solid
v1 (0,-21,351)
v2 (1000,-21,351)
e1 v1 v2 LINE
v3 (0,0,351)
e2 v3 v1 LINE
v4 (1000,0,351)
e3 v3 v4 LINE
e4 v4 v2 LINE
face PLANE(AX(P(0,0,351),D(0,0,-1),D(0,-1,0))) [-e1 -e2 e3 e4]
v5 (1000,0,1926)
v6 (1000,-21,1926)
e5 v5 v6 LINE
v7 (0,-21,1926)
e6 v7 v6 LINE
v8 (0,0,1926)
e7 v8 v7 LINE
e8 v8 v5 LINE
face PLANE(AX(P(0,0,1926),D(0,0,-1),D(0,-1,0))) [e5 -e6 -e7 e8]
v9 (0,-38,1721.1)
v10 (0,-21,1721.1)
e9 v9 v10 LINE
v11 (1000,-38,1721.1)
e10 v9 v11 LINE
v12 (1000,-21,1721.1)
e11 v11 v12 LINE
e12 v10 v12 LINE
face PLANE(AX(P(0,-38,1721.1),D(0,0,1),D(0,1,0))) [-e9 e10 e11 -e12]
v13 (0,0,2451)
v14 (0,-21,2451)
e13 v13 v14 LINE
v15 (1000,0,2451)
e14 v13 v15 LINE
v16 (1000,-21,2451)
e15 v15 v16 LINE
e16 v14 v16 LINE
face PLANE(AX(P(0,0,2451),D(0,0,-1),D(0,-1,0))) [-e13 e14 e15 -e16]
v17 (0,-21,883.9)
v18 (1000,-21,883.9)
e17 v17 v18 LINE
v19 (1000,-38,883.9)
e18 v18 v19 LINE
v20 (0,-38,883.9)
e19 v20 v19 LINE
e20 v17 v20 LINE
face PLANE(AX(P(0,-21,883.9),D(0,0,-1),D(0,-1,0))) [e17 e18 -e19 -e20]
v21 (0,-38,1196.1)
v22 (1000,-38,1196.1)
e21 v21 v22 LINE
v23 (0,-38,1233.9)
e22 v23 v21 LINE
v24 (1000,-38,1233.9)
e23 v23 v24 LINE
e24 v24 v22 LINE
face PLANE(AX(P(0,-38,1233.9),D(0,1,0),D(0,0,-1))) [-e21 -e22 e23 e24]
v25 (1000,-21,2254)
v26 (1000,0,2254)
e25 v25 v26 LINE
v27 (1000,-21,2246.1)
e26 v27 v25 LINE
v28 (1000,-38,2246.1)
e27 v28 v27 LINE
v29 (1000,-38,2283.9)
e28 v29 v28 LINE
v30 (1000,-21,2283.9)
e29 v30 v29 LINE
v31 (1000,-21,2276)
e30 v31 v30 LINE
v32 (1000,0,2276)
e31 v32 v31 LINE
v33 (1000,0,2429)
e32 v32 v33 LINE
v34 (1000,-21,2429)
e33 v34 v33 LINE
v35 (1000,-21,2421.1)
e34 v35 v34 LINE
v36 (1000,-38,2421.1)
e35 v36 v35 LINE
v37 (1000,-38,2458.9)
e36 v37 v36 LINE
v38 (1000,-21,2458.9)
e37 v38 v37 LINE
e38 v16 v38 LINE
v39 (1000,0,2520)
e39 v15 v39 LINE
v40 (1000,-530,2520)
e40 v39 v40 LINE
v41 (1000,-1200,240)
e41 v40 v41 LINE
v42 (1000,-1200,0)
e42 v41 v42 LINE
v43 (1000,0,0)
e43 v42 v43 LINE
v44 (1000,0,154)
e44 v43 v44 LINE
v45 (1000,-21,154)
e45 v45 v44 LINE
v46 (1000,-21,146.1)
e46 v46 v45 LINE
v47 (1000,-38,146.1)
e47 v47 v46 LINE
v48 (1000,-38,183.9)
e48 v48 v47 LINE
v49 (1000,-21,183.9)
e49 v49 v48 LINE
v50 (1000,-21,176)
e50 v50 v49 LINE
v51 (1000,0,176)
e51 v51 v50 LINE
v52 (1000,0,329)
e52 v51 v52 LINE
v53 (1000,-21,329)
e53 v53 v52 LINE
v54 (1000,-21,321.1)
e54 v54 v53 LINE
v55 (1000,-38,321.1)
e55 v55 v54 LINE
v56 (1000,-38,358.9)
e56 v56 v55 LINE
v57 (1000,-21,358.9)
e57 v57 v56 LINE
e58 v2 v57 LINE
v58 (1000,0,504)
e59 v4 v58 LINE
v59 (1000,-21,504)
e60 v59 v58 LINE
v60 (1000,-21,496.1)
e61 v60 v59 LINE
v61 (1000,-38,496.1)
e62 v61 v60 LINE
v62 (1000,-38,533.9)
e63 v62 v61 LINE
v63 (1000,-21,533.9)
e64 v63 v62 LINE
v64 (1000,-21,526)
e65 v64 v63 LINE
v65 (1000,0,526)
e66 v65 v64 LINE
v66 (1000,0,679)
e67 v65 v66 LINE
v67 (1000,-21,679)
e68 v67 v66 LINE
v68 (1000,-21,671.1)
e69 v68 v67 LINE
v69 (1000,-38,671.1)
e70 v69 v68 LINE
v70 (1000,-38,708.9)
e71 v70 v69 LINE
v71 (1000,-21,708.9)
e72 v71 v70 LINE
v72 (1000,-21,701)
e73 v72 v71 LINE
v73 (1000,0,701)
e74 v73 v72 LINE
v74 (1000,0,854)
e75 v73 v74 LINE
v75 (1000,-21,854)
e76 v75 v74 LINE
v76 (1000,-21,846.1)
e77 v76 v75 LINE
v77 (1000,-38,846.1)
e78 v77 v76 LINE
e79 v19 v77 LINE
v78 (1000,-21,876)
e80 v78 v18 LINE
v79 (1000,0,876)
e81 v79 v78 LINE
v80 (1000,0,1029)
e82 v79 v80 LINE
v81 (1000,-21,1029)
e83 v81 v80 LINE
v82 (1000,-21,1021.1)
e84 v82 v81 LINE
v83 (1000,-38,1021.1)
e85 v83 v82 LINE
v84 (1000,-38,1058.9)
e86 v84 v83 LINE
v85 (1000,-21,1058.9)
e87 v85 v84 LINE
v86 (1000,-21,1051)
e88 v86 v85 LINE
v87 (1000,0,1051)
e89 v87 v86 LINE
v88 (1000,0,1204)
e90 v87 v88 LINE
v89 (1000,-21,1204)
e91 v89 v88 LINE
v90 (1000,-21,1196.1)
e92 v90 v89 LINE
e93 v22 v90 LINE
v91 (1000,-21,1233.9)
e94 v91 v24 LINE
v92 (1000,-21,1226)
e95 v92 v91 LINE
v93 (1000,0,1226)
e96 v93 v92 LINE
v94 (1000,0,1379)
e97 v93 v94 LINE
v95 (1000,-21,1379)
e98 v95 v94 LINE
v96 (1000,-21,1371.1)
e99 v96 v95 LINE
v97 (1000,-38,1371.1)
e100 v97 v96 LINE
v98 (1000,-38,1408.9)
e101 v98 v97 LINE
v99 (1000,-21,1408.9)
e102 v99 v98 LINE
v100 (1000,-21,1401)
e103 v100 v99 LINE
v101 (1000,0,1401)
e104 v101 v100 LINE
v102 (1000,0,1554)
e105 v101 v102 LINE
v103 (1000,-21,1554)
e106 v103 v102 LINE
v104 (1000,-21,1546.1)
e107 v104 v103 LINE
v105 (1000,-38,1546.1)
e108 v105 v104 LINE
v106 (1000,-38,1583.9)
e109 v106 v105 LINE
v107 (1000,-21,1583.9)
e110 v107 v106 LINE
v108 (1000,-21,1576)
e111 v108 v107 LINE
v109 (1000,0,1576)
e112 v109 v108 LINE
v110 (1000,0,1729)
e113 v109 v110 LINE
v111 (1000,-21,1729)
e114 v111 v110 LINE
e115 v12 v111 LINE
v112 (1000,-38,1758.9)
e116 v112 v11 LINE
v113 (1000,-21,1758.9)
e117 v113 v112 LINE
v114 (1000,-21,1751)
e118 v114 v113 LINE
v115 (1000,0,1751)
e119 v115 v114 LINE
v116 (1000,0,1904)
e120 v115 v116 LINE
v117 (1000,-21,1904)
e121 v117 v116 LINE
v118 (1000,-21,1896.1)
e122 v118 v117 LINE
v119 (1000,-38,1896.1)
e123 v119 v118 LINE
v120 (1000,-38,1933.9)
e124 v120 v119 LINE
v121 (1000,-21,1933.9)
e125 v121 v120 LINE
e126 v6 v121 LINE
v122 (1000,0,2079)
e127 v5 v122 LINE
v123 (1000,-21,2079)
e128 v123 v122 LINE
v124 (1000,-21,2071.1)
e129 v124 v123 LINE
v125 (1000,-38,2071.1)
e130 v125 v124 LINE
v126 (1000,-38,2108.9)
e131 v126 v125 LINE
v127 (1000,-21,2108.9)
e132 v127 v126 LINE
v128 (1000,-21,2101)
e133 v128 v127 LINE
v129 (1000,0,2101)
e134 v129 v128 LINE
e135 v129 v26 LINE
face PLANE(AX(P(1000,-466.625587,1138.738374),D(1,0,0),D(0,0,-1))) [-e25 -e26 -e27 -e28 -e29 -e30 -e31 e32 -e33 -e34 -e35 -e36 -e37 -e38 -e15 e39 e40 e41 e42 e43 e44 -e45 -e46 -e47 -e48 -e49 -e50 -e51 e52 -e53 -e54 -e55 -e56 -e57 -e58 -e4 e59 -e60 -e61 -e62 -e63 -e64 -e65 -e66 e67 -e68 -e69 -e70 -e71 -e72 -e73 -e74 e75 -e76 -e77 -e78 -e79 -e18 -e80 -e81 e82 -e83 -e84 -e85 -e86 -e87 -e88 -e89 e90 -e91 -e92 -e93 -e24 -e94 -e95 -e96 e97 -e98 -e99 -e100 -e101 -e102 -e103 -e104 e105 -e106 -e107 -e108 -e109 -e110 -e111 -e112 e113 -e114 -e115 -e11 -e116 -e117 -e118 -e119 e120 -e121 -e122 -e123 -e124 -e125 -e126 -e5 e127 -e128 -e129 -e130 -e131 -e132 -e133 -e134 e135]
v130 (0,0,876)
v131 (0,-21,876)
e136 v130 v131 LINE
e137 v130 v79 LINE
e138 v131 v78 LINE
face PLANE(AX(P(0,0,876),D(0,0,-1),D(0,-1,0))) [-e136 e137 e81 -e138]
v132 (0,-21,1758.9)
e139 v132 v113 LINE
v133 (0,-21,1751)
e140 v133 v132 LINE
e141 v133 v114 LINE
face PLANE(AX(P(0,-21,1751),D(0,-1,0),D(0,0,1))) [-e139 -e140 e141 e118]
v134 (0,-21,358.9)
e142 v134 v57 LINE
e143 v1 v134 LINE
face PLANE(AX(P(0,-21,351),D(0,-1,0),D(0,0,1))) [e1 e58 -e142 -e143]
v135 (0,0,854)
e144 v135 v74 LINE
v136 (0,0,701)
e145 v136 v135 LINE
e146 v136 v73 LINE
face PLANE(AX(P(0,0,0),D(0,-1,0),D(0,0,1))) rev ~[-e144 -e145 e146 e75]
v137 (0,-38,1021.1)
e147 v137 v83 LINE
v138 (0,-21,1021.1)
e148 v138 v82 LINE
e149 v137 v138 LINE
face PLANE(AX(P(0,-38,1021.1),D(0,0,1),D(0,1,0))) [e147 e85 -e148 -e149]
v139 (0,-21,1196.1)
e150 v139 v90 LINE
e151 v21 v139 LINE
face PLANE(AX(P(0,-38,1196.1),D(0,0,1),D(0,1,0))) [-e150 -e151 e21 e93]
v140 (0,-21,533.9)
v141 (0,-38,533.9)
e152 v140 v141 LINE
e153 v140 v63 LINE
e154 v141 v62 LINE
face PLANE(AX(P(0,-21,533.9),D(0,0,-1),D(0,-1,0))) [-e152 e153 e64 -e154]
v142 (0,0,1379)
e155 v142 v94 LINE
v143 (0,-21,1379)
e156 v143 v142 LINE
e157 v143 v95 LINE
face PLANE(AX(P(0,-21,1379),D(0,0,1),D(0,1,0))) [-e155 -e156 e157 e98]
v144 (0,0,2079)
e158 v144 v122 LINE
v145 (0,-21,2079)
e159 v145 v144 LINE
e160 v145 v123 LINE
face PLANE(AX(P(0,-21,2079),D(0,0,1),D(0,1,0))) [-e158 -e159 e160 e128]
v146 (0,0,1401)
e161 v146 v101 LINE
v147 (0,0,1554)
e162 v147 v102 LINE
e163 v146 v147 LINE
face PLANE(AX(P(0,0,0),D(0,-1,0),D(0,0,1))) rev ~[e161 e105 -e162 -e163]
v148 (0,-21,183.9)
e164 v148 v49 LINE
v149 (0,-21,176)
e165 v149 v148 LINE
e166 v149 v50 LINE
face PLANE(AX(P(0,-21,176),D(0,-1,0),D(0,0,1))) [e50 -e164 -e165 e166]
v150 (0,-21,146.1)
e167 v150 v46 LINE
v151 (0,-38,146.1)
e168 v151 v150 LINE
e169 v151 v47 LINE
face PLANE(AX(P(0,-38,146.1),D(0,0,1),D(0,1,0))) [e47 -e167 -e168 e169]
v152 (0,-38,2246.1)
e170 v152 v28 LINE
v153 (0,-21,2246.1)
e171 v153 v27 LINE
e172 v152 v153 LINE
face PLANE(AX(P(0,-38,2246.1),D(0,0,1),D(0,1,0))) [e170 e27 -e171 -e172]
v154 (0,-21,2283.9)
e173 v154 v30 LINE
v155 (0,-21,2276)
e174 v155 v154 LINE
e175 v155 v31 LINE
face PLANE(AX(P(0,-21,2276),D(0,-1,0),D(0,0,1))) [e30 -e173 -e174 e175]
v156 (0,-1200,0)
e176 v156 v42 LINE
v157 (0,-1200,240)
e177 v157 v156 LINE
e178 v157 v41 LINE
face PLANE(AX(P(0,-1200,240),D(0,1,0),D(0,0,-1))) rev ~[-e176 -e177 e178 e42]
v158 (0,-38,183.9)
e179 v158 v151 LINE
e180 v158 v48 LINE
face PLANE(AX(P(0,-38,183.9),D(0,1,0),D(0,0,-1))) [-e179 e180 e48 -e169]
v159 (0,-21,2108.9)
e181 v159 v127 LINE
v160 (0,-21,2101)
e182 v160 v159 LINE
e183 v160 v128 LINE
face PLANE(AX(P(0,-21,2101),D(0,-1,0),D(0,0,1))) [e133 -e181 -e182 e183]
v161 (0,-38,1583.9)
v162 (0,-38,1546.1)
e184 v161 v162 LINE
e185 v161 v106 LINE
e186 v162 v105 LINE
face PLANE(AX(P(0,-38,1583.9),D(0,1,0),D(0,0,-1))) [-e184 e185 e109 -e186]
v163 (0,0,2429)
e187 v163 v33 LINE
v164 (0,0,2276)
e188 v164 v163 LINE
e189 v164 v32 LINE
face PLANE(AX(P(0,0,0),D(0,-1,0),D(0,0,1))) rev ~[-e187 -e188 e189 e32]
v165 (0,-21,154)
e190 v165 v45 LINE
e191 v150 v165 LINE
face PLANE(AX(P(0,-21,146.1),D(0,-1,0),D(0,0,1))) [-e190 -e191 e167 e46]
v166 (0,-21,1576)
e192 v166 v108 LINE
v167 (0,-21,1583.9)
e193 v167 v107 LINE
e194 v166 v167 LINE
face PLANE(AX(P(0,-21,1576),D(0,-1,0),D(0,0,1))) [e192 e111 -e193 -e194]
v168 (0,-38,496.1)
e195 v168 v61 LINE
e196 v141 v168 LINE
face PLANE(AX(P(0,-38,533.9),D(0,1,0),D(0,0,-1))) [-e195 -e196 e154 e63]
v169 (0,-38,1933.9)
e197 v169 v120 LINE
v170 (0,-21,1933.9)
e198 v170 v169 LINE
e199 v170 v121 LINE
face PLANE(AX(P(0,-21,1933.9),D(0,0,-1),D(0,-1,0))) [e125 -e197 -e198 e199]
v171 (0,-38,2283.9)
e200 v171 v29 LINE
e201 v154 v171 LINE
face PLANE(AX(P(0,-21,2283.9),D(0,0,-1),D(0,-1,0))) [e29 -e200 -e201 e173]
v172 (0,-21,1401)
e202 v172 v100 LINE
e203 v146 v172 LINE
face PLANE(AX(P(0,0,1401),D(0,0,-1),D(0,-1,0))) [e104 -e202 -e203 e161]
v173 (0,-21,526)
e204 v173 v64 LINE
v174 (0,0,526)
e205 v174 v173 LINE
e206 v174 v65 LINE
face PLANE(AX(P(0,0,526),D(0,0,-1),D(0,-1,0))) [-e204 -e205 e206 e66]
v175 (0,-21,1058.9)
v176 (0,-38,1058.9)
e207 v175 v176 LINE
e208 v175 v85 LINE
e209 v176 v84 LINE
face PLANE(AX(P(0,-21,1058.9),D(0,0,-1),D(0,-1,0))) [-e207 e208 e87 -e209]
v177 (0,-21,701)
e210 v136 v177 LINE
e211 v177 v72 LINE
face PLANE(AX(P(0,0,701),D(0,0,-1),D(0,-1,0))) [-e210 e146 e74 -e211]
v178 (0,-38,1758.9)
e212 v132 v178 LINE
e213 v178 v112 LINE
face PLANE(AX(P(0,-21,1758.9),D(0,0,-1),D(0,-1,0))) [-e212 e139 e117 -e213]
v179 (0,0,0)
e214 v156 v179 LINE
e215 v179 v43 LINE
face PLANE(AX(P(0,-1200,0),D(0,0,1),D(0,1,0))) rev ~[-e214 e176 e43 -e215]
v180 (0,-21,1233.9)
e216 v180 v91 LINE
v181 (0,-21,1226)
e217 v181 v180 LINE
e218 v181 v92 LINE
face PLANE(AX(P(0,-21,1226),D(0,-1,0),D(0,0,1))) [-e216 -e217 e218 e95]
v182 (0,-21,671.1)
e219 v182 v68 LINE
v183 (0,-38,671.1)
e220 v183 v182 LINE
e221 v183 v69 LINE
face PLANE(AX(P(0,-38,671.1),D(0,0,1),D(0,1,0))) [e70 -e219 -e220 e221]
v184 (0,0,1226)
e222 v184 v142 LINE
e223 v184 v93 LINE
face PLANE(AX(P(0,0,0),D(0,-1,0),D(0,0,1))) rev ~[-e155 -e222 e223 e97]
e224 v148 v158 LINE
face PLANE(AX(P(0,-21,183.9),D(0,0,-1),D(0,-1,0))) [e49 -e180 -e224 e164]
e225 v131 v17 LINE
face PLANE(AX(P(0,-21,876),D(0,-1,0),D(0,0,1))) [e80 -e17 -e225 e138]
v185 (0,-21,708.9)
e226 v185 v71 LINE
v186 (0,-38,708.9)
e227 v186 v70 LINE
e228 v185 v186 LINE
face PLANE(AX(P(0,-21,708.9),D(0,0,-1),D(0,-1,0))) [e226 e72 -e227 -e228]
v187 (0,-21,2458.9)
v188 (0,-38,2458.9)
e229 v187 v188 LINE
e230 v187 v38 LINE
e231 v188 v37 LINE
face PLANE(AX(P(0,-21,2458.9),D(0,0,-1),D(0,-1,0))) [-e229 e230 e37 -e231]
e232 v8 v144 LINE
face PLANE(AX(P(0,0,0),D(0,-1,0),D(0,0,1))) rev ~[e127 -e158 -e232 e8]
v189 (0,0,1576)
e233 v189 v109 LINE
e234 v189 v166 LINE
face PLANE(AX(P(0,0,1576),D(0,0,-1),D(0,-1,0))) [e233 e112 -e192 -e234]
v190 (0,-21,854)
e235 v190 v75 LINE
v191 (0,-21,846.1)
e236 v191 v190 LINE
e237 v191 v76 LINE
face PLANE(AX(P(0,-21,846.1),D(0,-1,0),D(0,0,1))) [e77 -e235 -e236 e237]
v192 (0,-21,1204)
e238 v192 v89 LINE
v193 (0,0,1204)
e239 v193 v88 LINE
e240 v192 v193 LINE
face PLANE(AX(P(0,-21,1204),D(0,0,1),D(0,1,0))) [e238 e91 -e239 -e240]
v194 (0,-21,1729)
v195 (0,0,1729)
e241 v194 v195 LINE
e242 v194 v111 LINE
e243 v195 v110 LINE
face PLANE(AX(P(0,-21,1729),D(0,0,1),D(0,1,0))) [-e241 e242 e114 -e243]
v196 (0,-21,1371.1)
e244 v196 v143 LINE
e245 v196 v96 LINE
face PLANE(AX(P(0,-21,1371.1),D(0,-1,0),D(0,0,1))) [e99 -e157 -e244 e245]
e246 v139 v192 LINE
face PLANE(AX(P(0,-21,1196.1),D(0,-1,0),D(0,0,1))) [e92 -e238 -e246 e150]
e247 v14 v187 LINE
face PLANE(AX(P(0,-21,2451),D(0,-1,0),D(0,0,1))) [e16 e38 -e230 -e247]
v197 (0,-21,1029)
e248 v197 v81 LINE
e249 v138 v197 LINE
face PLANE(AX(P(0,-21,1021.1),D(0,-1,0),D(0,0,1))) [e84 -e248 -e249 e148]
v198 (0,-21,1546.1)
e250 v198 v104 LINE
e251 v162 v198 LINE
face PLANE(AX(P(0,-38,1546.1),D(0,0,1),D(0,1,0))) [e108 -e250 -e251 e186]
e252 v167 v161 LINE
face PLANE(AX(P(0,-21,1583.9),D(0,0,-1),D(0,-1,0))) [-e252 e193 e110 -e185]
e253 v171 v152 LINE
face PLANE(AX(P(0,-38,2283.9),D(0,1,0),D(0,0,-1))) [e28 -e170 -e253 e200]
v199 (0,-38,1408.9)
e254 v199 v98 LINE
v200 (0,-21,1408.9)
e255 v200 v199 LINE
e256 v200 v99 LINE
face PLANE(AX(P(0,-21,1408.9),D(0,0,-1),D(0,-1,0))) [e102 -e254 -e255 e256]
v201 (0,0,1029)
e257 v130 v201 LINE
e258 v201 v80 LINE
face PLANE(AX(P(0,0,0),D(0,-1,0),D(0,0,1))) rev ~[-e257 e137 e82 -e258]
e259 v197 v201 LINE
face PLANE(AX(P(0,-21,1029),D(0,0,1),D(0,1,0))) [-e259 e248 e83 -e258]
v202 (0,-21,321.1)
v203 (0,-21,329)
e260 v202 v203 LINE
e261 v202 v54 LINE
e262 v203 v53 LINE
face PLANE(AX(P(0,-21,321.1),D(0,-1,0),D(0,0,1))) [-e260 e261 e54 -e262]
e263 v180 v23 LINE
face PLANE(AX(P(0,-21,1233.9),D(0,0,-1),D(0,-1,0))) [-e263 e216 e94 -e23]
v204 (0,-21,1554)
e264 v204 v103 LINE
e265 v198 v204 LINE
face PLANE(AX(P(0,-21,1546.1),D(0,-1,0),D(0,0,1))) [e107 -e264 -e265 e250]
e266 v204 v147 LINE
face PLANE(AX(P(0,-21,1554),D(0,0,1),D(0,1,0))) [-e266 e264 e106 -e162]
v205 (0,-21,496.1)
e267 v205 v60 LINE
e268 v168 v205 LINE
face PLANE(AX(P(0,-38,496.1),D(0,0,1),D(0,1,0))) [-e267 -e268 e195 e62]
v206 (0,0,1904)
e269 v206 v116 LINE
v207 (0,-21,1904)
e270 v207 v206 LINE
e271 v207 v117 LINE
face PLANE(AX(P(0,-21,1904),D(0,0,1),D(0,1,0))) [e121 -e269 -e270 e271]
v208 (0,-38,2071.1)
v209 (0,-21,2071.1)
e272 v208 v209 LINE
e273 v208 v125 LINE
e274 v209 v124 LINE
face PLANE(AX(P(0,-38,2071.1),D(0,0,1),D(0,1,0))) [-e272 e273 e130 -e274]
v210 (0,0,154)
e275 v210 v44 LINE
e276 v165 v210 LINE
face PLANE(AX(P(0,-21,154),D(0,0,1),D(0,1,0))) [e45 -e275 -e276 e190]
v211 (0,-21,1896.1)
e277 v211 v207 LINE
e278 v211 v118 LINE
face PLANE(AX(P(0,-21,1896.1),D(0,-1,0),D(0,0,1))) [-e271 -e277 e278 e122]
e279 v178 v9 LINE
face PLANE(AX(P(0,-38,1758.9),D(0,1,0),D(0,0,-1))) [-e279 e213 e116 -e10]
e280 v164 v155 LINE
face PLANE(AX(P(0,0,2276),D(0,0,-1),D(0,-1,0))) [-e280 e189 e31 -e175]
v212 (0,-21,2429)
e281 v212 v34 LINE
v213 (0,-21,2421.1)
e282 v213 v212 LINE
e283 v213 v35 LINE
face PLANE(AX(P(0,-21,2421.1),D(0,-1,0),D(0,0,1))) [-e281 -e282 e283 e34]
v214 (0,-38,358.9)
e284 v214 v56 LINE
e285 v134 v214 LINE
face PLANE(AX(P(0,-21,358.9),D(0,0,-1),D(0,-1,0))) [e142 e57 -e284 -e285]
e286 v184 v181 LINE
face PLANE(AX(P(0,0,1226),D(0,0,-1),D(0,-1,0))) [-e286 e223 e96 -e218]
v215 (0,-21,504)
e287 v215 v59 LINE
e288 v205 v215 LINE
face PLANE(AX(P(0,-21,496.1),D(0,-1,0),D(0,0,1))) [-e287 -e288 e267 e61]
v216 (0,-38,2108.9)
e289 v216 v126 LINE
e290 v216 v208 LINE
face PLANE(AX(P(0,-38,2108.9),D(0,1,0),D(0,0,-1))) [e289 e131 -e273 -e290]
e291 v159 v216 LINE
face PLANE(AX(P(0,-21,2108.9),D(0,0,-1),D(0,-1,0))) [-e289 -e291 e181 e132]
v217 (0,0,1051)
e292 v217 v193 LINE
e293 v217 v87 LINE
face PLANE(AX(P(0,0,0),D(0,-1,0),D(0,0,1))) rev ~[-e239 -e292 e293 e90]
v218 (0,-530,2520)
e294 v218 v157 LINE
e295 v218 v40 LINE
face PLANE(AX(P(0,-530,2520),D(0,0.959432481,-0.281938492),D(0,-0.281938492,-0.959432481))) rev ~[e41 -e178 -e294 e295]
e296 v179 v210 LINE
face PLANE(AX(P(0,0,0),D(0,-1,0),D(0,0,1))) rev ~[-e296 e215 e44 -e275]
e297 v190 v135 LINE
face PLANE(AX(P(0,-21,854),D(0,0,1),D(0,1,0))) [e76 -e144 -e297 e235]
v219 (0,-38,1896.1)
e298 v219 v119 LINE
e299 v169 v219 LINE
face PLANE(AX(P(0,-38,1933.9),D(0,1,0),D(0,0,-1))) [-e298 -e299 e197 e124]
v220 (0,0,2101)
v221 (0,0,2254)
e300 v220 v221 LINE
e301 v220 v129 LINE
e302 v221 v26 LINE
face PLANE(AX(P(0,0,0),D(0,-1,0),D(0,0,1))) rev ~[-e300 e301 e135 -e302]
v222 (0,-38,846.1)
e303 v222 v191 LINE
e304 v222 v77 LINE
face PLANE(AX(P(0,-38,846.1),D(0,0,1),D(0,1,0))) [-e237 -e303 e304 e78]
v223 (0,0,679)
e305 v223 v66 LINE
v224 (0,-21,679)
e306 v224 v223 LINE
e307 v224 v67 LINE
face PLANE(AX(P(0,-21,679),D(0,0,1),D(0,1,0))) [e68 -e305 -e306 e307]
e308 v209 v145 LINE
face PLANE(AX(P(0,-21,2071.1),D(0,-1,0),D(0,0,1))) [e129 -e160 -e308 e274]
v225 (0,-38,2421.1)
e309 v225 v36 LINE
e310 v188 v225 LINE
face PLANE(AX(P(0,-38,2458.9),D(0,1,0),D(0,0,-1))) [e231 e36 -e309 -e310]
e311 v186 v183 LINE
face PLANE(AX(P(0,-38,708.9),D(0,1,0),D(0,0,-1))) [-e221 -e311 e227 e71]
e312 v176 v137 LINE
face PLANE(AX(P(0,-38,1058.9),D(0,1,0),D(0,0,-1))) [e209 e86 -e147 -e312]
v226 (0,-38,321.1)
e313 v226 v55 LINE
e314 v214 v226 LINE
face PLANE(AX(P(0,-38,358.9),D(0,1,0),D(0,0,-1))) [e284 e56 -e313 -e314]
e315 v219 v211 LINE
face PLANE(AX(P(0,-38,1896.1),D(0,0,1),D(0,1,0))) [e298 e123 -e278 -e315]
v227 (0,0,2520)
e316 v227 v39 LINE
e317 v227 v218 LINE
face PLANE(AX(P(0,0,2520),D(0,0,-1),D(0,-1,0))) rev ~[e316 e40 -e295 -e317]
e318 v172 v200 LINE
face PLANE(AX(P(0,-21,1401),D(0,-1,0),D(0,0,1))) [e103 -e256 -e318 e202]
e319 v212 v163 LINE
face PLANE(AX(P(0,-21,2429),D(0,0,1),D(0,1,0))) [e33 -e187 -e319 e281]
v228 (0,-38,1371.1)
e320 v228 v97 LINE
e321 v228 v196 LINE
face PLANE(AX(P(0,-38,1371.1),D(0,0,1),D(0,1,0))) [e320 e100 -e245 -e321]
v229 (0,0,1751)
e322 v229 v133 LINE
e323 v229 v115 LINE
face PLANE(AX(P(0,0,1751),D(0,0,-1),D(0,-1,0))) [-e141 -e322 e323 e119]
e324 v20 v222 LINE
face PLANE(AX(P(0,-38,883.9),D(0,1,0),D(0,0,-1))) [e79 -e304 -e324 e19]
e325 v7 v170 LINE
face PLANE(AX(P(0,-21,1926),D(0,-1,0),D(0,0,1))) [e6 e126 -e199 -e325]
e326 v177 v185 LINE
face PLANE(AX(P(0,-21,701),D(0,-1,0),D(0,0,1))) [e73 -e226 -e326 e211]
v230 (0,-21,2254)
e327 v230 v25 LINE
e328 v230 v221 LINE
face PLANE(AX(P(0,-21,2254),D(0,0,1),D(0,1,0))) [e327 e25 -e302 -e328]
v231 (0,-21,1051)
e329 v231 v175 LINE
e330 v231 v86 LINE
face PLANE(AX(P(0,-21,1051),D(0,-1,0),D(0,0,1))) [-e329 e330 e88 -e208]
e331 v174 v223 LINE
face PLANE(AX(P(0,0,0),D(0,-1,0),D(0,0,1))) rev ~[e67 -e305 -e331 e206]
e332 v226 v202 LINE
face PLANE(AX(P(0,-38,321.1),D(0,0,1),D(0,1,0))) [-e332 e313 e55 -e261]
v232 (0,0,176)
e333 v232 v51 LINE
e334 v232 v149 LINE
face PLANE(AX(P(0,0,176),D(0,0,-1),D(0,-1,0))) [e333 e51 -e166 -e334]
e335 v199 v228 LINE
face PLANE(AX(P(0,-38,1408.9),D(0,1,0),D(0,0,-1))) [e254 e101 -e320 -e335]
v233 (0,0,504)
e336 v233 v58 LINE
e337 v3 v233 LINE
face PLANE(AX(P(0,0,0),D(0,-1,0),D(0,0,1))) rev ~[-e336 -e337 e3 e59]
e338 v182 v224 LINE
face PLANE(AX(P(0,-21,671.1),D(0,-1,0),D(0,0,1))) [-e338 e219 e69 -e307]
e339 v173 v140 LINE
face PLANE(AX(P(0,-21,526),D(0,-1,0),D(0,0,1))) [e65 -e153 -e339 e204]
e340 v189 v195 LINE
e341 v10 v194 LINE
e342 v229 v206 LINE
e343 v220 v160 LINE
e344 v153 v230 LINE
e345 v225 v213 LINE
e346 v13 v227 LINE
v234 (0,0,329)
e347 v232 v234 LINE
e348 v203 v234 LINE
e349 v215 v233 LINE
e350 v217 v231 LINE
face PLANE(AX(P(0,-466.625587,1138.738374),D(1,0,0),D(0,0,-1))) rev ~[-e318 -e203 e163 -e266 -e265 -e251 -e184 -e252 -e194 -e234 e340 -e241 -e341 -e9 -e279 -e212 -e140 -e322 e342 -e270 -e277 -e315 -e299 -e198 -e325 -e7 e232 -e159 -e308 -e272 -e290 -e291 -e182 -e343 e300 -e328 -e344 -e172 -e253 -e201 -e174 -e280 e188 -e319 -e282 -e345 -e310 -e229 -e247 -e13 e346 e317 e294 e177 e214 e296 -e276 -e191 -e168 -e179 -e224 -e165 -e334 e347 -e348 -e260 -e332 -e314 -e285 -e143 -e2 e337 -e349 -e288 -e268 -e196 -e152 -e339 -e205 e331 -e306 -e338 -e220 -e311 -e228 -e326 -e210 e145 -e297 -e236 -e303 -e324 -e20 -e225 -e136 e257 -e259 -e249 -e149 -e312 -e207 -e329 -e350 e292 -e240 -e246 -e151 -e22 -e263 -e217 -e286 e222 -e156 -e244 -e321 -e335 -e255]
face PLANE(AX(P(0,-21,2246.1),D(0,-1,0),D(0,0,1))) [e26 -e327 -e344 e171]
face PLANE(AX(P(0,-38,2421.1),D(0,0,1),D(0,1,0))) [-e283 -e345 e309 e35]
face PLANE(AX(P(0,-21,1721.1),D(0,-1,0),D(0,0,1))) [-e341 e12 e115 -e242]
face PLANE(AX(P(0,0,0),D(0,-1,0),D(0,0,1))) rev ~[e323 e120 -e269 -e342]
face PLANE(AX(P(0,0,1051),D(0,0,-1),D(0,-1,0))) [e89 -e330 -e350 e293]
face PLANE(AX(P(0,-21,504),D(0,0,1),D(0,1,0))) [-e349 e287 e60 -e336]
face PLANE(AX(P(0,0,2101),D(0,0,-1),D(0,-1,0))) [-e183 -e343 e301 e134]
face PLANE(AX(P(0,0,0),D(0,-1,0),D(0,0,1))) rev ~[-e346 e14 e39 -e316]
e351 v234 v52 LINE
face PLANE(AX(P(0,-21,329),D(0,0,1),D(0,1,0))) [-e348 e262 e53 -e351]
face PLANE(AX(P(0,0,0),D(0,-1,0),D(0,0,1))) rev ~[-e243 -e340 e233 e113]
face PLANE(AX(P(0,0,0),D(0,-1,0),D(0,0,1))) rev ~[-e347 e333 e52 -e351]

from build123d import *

# Parameters (mm, degrees)
BOSS_EXTRUDE1_DEPTH = 1000
CUT_EXTRUDE1_REACH  = 2966.861
LPATTERN1_COUNT     = 14
LPATTERN1_PITCH     = 175


with BuildPart() as part:
    # Sketch4 → Boss-Extrude1 (new body)
    with BuildSketch(Plane(origin=(0, 0, 0), x_dir=(0, 0, -1), z_dir=(1, 0, 0))):
        Polygon((0, 0), (-2520, 0), (-2520, -530), (-240, -1200), (0, -1200), align=None)
    extrude(amount=BOSS_EXTRUDE1_DEPTH)

    # Sketch6 → Cut-Extrude1 (cut, up to next)
    with BuildSketch(Plane(origin=(0, 0, 0), x_dir=(0, 0, -1), z_dir=(1, 0, 0)), mode=Mode.PRIVATE) as cut_extrude1_sk1:
        Polygon((-154, 0), (-176, 0), (-176, -21), (-183.9, -21), (-183.9, -38), (-146.1, -38), (-146.1, -21), (-154, -21), align=None)
    cut_extrude1_tool1 = extrude(cut_extrude1_sk1.sketch, amount=CUT_EXTRUDE1_REACH, mode=Mode.PRIVATE) & part.part
    cut_extrude1 = cut_extrude1_tool1.solids().sort_by_distance((0, -21.553232, 165))[0]
    add(cut_extrude1, mode=Mode.SUBTRACT)

    # LPattern1: Cut-Extrude1 ×14
    with Locations(*[(0, 0, i * LPATTERN1_PITCH) for i in range(1, LPATTERN1_COUNT)]):
        add(cut_extrude1, mode=Mode.SUBTRACT)


solid = part.part
